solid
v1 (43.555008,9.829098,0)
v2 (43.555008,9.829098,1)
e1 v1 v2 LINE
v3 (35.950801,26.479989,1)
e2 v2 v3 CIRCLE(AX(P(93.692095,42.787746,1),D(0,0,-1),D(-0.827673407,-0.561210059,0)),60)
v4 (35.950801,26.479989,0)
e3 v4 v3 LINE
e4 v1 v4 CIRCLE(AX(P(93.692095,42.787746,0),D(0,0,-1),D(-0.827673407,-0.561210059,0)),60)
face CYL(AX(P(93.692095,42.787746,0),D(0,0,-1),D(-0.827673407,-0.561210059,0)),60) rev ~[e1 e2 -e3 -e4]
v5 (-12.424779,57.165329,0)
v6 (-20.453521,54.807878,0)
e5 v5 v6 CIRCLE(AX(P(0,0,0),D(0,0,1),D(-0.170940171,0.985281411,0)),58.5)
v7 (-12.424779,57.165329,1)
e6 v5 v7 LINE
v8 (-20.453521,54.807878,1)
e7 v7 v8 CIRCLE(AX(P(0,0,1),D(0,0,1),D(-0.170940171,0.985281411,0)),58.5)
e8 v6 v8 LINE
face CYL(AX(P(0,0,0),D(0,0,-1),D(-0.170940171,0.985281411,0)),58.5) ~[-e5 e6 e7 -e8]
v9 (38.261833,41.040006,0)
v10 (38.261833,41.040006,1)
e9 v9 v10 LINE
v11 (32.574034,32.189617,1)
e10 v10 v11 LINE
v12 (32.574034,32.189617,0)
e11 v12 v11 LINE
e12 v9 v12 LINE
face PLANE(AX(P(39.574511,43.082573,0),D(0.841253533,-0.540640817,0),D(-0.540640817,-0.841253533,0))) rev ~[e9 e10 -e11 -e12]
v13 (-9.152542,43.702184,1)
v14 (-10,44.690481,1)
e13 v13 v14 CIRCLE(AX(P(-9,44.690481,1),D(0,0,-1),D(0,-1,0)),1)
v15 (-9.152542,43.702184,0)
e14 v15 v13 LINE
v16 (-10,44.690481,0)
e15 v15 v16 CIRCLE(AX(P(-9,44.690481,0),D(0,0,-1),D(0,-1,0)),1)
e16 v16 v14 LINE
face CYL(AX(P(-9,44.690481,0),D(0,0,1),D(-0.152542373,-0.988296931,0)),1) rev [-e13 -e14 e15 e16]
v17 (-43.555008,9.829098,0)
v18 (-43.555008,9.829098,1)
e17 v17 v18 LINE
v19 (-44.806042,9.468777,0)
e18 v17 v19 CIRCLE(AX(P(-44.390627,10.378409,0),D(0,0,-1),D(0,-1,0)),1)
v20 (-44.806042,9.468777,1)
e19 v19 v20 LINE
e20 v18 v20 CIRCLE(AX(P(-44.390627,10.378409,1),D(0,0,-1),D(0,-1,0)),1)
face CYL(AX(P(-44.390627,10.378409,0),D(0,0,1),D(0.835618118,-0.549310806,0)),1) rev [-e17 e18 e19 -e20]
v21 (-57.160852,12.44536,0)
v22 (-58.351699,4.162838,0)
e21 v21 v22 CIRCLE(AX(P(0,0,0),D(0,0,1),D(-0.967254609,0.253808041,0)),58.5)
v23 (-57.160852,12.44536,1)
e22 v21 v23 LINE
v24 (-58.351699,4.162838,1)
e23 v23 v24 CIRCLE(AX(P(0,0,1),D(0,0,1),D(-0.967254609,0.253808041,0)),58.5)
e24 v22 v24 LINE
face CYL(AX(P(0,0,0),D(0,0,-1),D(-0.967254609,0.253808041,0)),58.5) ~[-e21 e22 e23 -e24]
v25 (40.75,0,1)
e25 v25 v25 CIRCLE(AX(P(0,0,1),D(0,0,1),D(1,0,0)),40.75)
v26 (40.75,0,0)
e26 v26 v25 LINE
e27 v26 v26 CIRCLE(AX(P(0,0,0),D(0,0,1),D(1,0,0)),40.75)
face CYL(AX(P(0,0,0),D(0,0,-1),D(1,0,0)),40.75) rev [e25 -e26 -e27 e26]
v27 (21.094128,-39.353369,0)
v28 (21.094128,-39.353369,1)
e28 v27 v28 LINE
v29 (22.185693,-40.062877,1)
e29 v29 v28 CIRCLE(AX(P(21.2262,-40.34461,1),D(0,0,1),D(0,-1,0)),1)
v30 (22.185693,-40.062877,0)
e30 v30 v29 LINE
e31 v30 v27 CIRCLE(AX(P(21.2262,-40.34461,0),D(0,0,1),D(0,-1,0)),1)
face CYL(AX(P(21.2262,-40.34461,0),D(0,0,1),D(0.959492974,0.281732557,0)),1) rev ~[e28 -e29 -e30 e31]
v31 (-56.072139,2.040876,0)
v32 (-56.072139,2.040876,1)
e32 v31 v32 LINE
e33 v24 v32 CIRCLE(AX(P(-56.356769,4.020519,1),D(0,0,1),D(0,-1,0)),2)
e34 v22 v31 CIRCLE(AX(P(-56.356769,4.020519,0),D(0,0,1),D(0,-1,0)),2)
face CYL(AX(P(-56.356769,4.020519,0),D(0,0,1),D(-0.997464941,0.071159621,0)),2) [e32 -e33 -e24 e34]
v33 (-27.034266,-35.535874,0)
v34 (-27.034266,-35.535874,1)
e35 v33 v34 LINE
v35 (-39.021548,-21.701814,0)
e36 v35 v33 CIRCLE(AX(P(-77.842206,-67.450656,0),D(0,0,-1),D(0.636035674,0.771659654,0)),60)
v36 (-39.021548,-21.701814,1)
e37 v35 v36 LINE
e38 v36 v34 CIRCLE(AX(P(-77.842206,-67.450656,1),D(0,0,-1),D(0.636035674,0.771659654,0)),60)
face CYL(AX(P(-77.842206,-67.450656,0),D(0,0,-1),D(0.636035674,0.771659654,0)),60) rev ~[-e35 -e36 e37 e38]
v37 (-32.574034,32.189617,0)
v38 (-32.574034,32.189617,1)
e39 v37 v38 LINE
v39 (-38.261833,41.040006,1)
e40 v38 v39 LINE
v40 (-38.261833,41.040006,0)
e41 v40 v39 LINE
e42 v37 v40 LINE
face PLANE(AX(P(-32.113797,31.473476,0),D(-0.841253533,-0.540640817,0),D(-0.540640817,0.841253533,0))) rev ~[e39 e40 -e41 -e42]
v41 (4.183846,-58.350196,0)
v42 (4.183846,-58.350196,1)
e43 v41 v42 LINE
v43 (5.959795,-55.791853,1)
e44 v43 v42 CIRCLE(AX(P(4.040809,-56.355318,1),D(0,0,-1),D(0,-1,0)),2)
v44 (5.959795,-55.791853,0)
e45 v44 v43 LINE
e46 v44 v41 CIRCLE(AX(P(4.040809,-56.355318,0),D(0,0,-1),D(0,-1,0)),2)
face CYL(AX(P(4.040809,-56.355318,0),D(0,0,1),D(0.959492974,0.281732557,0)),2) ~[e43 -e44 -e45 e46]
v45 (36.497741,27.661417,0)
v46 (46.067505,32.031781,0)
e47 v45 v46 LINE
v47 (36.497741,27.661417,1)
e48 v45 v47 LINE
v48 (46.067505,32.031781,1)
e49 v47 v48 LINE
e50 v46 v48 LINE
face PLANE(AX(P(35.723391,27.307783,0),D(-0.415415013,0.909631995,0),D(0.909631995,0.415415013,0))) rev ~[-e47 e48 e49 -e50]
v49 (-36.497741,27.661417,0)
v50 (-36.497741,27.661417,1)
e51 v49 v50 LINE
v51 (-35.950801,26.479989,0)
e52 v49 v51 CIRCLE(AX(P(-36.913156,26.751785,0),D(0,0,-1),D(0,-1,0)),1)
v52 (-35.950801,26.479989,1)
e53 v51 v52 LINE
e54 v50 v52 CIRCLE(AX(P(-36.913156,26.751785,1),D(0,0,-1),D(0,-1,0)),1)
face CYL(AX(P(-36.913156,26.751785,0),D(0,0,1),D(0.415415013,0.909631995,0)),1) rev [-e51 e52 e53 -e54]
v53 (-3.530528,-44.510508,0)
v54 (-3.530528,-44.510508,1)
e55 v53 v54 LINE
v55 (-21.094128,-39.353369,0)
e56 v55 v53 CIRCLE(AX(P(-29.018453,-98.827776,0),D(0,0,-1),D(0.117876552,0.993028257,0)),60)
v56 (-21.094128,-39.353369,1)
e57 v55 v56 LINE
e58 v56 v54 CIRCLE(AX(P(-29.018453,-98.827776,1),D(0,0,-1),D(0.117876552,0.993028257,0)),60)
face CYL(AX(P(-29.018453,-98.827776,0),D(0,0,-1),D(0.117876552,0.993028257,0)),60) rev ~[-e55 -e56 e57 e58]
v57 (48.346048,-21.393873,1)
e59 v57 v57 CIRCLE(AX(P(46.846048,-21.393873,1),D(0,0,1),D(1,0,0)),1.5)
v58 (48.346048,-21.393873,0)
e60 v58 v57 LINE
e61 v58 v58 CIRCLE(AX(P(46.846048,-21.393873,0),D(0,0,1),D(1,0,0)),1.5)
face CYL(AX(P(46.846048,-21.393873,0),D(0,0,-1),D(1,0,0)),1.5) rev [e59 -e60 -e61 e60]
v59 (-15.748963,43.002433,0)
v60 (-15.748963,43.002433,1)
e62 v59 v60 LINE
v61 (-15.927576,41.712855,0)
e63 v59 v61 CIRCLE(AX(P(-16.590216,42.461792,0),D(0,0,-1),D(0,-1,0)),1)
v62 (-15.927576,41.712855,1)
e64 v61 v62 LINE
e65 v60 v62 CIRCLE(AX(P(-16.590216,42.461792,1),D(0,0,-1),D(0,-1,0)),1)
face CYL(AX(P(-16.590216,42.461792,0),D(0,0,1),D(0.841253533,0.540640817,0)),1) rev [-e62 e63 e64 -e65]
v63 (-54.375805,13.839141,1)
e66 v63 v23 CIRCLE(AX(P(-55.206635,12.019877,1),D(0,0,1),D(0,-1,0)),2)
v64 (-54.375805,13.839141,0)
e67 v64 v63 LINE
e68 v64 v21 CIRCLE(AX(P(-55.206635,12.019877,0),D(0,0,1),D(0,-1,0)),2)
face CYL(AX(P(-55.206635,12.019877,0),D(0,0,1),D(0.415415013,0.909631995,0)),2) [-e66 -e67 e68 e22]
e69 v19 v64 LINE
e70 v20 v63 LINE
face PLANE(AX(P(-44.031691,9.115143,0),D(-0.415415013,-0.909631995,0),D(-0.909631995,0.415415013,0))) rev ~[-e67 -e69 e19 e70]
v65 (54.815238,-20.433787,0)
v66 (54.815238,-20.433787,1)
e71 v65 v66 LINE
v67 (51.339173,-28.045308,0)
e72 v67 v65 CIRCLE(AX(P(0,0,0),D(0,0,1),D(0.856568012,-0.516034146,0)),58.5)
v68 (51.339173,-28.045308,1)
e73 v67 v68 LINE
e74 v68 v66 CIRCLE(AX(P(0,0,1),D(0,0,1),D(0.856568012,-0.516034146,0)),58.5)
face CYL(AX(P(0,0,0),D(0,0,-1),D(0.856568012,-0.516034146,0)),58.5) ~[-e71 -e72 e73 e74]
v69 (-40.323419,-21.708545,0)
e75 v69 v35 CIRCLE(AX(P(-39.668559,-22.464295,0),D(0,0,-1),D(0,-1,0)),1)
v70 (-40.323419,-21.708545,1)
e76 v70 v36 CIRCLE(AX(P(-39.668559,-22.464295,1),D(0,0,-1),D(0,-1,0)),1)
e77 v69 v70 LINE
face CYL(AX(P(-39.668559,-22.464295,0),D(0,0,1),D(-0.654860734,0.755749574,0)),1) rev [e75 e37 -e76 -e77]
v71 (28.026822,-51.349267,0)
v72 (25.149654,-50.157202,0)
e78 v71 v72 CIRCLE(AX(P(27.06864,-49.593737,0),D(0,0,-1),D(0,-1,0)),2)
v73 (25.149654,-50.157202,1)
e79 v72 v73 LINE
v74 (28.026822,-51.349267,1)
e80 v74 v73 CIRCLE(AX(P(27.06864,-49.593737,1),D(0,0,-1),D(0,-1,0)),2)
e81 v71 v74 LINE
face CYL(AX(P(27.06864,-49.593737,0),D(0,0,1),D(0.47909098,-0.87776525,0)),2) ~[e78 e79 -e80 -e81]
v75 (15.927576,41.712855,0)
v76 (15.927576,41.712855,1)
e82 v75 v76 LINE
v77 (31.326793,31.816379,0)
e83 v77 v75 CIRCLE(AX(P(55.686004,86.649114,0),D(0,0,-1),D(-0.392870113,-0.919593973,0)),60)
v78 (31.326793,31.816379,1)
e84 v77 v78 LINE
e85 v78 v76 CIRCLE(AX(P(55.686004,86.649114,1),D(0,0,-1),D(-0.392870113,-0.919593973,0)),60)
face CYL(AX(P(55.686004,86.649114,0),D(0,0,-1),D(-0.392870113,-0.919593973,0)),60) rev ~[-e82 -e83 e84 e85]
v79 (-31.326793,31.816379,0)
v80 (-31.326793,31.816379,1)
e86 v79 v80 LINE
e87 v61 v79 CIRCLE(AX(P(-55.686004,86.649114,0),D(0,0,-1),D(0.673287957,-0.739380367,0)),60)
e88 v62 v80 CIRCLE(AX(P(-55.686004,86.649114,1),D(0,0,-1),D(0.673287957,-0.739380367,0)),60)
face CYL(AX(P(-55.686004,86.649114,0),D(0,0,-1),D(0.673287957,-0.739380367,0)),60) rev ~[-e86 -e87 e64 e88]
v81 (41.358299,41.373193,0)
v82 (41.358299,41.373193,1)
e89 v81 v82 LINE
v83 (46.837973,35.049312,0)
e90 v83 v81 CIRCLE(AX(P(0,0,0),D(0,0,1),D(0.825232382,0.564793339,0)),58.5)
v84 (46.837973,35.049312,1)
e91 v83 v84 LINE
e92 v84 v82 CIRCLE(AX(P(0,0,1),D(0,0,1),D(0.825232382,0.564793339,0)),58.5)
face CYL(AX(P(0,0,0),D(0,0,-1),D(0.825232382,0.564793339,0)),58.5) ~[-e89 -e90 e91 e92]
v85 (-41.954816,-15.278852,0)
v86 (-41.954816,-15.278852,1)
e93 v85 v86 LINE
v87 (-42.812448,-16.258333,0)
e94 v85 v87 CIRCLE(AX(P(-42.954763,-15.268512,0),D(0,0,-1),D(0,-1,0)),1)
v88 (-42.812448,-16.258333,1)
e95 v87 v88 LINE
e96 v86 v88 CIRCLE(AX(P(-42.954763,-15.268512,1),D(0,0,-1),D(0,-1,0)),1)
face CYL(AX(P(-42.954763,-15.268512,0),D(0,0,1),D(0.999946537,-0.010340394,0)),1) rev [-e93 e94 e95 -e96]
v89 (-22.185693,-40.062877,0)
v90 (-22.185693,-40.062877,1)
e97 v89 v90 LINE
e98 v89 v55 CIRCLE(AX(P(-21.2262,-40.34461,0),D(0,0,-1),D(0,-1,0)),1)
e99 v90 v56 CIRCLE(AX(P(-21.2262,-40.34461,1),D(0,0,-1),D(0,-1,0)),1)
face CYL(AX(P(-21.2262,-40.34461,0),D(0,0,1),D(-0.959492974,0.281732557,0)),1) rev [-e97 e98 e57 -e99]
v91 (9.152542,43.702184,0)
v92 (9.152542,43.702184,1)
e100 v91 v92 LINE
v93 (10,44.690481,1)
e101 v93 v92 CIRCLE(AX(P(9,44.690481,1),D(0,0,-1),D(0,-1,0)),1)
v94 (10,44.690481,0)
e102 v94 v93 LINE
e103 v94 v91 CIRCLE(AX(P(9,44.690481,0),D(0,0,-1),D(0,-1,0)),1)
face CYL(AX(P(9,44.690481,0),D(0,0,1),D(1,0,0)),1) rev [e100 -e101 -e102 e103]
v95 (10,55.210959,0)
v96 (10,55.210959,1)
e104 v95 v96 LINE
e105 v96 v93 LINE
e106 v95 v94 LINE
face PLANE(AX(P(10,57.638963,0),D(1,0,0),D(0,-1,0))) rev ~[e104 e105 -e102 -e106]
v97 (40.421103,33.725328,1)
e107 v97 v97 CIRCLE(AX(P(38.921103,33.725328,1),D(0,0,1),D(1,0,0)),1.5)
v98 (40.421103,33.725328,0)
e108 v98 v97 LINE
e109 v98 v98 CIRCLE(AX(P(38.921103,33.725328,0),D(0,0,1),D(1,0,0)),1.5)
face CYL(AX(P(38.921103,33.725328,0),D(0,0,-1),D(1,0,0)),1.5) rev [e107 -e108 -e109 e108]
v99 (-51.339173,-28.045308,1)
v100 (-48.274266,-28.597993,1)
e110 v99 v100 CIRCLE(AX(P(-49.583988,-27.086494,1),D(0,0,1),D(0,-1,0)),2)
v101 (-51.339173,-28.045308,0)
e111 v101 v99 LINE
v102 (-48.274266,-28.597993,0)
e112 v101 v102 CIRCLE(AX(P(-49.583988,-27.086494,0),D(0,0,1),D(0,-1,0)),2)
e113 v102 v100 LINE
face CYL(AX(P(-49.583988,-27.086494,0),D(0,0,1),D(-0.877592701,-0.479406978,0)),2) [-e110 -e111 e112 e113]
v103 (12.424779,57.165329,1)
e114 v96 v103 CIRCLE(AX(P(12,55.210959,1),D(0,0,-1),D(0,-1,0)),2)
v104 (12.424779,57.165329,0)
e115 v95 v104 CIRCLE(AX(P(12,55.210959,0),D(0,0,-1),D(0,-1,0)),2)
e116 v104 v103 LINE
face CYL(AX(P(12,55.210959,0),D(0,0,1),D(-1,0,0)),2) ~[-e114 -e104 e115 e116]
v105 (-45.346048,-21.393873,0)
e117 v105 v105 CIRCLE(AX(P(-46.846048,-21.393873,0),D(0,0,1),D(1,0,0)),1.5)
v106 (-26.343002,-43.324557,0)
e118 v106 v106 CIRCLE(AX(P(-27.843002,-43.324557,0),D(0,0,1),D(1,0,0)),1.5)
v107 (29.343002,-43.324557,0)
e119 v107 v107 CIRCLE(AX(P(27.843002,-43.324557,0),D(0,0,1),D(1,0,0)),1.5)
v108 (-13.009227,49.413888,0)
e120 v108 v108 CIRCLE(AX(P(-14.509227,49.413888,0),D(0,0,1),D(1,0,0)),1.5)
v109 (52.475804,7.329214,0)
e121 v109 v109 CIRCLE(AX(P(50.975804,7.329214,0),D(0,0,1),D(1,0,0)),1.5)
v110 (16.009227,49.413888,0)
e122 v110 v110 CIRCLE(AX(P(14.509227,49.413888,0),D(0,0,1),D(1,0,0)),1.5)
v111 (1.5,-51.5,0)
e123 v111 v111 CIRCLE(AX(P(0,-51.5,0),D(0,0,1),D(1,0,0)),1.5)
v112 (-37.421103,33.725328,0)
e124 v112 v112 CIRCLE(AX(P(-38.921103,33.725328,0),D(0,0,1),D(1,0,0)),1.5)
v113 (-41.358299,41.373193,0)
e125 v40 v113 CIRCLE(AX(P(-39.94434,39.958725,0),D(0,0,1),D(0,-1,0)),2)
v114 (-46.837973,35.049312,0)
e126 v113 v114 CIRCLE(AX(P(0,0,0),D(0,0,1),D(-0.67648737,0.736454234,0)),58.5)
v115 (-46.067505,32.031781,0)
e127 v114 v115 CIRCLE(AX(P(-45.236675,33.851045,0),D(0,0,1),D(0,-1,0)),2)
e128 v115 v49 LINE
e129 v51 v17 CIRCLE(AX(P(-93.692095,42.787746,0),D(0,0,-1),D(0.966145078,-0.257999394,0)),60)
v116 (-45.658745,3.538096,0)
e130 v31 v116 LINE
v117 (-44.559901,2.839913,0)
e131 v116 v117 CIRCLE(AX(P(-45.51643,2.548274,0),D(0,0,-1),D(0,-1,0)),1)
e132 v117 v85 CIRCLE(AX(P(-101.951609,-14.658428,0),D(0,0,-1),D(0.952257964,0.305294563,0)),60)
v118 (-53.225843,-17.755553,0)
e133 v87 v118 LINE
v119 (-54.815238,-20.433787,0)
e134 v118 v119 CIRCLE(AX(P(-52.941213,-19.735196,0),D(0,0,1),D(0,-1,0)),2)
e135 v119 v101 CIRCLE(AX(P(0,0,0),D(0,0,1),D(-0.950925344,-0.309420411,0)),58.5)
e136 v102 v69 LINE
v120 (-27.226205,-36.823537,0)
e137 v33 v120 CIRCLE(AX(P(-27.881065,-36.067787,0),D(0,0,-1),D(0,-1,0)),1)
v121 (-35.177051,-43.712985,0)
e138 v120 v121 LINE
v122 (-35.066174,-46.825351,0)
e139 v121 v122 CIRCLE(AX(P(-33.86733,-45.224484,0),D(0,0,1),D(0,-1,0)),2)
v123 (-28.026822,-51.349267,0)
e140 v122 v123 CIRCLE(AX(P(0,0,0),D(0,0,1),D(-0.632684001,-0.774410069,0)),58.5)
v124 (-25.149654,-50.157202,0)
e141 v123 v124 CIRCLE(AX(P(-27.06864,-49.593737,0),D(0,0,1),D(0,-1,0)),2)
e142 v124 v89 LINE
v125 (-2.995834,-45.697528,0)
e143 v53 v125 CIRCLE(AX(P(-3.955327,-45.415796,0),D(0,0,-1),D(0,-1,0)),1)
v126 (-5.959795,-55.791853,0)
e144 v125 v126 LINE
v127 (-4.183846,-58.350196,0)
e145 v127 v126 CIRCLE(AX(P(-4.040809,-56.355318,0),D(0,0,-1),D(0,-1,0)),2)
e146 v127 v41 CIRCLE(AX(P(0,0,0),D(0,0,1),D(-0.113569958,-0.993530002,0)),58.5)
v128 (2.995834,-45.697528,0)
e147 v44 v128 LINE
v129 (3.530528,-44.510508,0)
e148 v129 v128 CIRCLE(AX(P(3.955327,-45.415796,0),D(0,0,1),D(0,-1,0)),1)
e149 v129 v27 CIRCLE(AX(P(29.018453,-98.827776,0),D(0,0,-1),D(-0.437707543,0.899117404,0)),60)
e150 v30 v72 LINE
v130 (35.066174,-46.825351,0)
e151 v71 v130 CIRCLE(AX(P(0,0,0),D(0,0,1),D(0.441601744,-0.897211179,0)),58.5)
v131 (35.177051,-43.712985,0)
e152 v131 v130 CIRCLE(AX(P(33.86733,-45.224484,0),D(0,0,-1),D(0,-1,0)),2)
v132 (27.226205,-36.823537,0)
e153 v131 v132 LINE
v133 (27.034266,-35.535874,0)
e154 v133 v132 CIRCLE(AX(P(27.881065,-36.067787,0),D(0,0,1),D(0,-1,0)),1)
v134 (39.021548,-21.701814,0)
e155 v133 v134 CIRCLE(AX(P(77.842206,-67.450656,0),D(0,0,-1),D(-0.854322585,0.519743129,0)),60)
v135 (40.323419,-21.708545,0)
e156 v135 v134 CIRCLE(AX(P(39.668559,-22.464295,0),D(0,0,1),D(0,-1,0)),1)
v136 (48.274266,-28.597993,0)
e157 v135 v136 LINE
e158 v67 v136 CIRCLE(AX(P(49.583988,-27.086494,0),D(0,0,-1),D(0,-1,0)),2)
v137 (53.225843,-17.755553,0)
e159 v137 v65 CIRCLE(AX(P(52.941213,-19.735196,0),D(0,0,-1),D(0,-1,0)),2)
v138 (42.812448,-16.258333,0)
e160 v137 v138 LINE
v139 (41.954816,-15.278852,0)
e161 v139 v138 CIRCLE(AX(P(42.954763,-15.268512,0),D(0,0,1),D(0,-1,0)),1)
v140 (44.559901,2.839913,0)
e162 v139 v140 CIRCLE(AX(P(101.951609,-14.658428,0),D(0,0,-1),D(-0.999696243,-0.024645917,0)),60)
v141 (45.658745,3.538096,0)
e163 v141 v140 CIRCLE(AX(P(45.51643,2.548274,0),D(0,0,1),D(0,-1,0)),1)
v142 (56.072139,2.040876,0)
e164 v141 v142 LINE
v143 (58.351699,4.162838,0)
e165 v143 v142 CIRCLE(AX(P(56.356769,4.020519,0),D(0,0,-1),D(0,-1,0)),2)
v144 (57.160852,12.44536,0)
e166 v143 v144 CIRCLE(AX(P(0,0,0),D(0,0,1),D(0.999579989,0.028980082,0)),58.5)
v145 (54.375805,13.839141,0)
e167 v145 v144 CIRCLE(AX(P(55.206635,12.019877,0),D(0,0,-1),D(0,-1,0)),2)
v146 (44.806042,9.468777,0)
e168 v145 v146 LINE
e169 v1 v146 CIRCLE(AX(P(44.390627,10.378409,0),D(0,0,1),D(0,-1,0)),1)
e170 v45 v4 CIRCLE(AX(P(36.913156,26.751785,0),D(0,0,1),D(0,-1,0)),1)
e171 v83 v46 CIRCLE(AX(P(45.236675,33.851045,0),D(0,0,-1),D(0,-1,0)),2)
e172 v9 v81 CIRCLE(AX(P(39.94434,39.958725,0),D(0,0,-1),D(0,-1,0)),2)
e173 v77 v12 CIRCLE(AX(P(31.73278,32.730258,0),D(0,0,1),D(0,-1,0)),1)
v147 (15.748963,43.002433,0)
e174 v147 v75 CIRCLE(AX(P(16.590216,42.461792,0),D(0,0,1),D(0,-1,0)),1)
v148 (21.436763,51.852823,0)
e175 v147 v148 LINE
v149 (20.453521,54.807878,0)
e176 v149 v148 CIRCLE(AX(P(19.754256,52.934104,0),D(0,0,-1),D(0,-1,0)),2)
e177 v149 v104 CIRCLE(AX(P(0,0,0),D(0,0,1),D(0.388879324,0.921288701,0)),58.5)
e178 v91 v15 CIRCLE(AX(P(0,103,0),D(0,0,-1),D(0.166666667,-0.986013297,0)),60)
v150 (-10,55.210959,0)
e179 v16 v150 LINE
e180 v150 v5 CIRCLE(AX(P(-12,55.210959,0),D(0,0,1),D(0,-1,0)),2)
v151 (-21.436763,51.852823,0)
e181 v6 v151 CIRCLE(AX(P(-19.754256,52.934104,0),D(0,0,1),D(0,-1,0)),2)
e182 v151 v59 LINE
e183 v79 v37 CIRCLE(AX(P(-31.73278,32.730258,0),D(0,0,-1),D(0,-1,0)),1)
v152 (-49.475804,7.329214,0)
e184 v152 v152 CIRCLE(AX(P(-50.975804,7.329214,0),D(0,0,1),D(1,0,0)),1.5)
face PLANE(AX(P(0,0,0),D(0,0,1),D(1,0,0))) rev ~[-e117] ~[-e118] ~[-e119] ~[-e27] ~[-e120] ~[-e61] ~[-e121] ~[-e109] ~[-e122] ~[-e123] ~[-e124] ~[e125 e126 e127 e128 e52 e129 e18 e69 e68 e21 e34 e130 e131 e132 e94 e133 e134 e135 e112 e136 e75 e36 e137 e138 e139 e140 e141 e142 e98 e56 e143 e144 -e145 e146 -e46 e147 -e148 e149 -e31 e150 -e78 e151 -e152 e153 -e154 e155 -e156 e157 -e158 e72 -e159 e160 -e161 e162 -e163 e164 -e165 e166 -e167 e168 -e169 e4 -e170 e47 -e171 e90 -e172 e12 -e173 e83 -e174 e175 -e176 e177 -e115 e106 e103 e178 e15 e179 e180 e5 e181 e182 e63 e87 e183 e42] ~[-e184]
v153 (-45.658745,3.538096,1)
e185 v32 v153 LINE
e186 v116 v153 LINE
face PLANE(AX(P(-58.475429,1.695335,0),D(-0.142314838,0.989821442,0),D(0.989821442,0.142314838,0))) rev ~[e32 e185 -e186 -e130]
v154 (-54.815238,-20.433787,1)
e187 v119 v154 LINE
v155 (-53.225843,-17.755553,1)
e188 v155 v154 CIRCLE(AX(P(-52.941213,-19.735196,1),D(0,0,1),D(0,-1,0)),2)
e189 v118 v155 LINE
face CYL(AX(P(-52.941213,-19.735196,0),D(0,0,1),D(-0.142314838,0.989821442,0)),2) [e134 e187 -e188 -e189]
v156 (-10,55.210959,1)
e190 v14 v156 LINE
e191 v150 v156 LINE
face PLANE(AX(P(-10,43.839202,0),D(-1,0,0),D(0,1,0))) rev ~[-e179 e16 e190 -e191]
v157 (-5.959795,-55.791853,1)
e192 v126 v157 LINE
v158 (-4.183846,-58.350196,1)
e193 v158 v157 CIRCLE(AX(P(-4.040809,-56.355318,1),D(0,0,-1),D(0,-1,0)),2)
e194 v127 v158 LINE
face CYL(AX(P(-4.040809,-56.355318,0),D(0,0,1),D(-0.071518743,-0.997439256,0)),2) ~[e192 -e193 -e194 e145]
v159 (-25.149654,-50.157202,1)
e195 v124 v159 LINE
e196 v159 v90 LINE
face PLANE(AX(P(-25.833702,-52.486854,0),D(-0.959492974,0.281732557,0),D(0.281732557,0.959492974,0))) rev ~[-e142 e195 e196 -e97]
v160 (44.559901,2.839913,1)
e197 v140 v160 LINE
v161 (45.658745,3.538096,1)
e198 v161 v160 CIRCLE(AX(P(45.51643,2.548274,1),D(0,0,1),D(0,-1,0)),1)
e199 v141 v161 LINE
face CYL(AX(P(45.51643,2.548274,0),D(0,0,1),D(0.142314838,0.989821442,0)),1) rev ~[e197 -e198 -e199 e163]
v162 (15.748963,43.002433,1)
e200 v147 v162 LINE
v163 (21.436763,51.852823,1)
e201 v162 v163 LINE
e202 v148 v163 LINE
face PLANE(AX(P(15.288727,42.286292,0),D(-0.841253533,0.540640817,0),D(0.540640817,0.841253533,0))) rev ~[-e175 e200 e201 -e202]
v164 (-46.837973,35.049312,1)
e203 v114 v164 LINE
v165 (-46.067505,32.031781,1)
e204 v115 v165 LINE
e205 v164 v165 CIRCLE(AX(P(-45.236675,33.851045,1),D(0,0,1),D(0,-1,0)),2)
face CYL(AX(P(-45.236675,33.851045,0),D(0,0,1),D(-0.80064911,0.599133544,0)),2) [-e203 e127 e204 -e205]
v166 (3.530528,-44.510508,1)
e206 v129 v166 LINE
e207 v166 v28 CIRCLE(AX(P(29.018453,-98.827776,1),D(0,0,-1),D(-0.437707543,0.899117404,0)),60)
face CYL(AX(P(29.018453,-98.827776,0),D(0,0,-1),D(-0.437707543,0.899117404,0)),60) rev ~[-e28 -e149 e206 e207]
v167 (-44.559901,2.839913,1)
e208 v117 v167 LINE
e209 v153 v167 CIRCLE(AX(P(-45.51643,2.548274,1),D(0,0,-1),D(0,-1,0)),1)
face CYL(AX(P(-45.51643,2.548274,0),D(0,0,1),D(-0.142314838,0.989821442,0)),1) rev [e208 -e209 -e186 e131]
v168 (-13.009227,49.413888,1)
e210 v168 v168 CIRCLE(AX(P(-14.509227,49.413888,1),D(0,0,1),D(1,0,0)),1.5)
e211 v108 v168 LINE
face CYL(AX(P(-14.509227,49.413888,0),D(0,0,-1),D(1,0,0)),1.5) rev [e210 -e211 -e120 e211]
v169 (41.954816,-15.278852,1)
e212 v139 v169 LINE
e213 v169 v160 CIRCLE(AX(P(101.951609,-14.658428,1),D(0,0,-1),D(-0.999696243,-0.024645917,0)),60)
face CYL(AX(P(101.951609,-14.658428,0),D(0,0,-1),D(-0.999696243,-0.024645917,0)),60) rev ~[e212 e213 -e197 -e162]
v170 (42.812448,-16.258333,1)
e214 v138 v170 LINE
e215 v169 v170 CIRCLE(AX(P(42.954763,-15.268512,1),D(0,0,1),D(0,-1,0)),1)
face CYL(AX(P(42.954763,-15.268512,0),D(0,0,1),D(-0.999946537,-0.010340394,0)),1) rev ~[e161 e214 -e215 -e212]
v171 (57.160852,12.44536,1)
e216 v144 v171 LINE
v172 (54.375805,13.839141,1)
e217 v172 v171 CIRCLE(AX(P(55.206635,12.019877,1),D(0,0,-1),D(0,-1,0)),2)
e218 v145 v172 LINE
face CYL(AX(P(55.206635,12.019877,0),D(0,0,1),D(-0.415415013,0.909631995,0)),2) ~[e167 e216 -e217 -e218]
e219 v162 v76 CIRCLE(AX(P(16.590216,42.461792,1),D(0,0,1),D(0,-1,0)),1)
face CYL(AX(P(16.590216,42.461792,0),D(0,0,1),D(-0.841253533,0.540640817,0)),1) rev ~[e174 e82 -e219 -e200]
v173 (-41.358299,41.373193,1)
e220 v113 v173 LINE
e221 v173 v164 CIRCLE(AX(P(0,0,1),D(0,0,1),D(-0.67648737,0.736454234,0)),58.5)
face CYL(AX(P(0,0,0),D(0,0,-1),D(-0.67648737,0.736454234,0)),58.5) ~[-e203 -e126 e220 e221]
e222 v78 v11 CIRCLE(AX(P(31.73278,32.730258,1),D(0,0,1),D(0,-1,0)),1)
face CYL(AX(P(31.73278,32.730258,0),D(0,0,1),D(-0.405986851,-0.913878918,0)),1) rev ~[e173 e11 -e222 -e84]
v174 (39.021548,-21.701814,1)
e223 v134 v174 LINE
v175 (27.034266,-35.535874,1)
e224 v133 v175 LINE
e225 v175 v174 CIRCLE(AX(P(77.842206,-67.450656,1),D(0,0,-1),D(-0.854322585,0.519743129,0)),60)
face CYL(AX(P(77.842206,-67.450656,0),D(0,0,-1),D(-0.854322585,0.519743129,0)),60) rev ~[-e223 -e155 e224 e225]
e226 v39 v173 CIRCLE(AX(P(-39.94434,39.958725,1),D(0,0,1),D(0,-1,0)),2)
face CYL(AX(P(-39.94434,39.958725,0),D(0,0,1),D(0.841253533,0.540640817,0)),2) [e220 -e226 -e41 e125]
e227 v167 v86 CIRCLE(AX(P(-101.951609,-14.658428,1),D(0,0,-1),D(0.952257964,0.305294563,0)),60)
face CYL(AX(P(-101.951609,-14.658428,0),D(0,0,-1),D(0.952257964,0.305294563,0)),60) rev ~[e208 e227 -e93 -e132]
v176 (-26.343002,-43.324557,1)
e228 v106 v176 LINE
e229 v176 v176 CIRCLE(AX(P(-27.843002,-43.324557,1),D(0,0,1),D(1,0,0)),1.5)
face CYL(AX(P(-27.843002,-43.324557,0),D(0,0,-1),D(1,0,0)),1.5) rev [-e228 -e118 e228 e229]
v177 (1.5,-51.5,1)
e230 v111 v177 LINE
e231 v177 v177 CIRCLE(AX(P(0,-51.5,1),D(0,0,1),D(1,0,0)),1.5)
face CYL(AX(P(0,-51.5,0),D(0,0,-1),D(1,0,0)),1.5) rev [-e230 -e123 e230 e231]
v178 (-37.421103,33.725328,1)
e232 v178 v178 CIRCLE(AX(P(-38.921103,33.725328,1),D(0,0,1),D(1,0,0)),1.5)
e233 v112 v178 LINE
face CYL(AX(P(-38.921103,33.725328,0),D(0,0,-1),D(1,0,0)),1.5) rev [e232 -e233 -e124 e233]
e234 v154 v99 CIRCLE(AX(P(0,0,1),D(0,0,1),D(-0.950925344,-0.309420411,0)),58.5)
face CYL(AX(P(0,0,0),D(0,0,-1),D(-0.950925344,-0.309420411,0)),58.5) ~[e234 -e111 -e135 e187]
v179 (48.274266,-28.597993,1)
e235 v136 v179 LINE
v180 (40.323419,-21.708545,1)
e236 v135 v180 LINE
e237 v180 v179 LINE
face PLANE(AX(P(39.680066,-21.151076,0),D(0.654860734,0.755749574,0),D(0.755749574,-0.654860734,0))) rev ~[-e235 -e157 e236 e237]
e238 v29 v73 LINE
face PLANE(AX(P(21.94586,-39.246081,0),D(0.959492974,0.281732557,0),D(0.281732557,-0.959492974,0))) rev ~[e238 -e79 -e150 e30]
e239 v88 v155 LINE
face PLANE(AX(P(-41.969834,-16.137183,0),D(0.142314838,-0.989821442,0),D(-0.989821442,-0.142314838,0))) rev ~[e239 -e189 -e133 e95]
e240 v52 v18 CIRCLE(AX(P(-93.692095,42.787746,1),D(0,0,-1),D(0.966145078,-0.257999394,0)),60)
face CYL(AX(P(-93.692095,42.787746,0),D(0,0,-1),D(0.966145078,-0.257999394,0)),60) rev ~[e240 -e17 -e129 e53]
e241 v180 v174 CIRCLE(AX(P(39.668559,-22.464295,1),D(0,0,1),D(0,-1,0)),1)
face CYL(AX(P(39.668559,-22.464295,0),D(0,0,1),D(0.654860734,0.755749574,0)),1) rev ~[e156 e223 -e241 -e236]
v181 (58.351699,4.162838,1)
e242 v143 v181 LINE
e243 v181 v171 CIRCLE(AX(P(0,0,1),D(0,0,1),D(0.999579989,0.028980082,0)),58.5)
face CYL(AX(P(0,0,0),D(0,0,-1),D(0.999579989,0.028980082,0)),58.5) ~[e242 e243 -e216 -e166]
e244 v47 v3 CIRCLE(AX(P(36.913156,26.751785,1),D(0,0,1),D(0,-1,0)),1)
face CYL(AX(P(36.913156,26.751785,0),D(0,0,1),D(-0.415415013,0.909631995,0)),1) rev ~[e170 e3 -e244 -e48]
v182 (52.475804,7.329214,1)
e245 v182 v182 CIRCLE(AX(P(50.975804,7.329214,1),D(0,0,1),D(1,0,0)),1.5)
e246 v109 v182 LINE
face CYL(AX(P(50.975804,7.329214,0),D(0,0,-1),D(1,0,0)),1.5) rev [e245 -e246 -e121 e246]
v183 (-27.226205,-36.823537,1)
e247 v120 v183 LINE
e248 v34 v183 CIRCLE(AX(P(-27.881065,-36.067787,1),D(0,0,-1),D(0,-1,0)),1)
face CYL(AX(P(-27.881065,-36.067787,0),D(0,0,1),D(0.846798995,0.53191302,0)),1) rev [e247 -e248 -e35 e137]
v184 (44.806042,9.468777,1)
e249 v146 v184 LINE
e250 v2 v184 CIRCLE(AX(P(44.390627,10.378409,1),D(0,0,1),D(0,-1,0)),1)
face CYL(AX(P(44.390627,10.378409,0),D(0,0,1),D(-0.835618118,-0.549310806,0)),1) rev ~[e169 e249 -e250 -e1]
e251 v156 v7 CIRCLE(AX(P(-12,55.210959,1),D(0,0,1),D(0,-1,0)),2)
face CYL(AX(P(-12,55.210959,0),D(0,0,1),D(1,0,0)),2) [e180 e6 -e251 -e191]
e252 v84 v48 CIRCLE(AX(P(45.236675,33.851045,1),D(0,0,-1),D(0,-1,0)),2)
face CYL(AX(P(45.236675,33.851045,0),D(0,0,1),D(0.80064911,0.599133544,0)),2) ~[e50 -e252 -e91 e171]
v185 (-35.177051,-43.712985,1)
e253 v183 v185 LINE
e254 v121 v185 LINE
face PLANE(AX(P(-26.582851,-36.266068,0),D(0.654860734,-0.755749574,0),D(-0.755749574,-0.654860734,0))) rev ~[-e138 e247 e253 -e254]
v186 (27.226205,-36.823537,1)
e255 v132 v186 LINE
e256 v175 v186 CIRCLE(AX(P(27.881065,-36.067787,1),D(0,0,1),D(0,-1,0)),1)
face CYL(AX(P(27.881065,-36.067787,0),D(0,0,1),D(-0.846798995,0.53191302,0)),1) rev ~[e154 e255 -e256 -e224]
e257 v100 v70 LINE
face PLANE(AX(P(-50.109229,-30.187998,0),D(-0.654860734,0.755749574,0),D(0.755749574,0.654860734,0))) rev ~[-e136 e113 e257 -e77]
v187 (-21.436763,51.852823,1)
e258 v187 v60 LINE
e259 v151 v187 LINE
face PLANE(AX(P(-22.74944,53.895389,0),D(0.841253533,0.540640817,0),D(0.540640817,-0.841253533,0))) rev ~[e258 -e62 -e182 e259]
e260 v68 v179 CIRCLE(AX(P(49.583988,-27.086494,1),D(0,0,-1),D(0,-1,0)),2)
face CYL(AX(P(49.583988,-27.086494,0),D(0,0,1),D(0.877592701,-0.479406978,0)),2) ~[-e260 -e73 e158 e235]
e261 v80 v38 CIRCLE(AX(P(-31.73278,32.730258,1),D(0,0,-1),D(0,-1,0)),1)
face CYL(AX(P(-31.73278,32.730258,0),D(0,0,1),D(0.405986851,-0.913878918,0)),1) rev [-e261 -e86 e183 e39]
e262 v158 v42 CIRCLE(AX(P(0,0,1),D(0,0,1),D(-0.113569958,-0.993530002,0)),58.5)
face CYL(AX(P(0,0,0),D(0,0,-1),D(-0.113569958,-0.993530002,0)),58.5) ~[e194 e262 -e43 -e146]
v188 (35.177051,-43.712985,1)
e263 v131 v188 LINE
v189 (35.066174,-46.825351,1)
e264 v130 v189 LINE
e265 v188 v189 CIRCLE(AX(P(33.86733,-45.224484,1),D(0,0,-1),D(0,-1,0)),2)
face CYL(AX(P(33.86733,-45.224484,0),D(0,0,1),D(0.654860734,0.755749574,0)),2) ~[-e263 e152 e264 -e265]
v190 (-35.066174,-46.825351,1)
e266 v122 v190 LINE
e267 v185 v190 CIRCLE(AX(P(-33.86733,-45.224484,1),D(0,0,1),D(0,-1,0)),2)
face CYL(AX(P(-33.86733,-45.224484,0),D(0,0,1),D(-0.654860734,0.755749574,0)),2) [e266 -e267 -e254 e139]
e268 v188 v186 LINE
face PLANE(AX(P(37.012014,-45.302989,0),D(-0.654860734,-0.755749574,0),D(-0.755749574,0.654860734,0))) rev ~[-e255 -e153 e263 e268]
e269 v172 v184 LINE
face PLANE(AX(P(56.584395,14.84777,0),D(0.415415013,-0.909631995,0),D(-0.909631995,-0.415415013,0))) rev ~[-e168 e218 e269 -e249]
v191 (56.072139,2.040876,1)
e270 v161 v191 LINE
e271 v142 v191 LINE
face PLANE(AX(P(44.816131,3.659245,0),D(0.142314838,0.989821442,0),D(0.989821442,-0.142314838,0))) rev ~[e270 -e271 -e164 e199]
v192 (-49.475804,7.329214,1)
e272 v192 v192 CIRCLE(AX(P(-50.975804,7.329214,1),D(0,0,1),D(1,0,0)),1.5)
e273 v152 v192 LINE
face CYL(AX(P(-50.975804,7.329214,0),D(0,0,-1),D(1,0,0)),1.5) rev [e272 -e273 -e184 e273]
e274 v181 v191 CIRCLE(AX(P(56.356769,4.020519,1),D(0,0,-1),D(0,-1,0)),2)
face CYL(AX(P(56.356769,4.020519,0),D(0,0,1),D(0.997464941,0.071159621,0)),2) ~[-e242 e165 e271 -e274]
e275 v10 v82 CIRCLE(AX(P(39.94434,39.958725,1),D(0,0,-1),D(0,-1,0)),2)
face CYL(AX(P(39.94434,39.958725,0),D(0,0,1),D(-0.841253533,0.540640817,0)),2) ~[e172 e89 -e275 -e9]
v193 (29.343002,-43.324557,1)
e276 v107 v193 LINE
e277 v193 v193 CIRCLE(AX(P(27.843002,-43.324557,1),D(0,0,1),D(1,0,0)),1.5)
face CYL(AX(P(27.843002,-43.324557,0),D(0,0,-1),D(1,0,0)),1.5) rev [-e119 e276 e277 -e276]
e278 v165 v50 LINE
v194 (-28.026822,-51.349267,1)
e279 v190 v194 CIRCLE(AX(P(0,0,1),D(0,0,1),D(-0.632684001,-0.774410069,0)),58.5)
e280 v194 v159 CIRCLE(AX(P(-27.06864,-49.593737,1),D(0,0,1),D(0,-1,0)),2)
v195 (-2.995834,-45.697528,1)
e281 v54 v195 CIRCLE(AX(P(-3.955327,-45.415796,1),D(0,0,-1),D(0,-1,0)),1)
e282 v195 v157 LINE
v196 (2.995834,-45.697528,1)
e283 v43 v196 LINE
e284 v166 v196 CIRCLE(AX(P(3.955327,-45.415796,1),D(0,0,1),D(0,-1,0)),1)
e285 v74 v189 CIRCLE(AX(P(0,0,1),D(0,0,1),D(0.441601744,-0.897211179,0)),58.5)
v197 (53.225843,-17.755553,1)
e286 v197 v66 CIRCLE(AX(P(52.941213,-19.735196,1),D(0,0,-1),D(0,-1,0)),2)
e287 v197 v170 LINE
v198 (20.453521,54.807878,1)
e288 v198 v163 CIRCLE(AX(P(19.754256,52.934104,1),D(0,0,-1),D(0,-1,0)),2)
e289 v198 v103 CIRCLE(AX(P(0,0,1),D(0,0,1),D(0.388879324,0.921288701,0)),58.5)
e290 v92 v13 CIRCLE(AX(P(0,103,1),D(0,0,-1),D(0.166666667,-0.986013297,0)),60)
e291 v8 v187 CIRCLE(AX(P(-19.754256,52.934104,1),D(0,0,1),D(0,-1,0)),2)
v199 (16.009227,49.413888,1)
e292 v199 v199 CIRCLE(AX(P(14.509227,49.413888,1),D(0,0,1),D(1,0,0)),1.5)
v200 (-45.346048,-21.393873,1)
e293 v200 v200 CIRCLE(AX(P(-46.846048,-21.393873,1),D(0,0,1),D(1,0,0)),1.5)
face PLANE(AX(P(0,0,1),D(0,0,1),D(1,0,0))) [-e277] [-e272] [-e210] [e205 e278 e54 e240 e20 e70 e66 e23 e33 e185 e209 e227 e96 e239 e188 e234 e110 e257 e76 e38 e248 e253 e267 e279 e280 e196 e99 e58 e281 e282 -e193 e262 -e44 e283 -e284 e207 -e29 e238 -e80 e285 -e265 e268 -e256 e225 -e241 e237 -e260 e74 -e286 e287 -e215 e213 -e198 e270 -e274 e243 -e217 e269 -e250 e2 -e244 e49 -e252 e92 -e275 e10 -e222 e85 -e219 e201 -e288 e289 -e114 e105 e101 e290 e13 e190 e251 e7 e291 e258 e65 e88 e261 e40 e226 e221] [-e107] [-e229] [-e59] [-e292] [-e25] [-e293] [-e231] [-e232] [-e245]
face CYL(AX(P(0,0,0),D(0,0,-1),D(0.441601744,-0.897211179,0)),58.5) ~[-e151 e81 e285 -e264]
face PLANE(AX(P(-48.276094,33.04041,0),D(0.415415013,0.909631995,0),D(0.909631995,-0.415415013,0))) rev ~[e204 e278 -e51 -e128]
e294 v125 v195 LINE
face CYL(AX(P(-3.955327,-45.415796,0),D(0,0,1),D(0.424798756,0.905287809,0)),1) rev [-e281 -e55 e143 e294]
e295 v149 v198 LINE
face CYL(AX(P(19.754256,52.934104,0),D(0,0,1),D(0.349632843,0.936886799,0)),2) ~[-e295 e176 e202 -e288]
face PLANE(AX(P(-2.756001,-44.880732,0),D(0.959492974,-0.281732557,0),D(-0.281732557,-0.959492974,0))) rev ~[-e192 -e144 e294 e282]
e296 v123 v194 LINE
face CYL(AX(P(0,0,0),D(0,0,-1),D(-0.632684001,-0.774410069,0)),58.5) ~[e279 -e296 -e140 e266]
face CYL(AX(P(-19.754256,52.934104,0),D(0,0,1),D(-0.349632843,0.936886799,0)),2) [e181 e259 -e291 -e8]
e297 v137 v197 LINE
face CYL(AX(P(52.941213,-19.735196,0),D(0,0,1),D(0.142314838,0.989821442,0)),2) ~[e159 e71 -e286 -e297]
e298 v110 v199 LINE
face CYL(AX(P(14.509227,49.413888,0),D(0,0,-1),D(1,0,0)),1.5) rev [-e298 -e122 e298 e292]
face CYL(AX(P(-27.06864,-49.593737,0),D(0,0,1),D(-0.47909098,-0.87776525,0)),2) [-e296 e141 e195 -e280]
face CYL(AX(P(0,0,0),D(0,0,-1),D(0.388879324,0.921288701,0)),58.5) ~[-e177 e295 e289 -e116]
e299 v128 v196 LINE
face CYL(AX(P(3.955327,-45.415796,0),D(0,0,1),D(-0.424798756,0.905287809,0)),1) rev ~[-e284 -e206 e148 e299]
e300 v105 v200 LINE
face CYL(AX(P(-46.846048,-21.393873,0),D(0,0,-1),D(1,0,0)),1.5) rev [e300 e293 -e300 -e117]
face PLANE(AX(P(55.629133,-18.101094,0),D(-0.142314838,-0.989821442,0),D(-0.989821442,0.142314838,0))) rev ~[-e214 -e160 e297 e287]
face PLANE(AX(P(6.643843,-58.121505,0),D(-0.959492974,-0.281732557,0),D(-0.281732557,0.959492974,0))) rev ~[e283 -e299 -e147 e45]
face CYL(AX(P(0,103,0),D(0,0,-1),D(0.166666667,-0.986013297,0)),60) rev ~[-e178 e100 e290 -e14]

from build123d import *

# Parameters (mm, degrees)
SKETCH_2_R      = 40.75
SKETCH_2_R_2    = 1.5
EXTRUDE_1_DEPTH = 1
FILLET_1_R      = 1
FILLET_2_R      = 2


with BuildPart() as part:
    # 草图2 → 凸台-拉伸1 (new body)
    with BuildSketch(Plane.XY):
        with BuildLine():
            Line((10, 57.638962517), (10, 43.839202169))
            ThreePointArc((10, 43.839202169), (0, 43), (-10, 43.839202169))
            Line((-10, 43.839202169), (-10, 57.638962517))
            ThreePointArc((-10, 57.638962517), (-16.481354575, 56.130338956), (-22.749440484, 53.89538902))
            Line((-22.749440484, 53.89538902), (-15.288726769, 42.286291876))
            ThreePointArc((-15.288726769, 42.286291876), (-23.247555151, 36.173901912), (-32.113797426, 31.473475527))
            Line((-32.113797426, 31.473475527), (-39.574511141, 43.082572671))
            ThreePointArc((-39.574511141, 43.082572671), (-44.2113501, 38.309352936), (-48.276094354, 33.040410317))
            Line((-48.276094354, 33.040410317), (-35.723390814, 27.307782693))
            ThreePointArc((-35.723390814, 27.307782693), (-39.1141758, 17.862845559), (-44.031691074, 9.115142785))
            Line((-44.031691074, 9.115142785), (-56.584394614, 14.84777041))
            ThreePointArc((-56.584394614, 14.84777041), (-57.90455435, 8.325418039), (-58.47542937, 1.69533479))
            Line((-58.47542937, 1.69533479), (-44.816130685, 3.659245452))
            ThreePointArc((-44.816130685, 3.659245452), (-42.562322001, -6.119538046), (-41.969833919, -16.137183386))
            Line((-41.969833919, -16.137183386), (-55.629132604, -18.101094048))
            ThreePointArc((-55.629132604, -18.101094048), (-53.213471728, -24.301778261), (-50.109228728, -30.187997554))
            Line((-50.109228728, -30.187997554), (-39.680065719, -21.151076364))
            ThreePointArc((-39.680065719, -21.151076364), (-32.497231697, -28.15901156), (-26.58285104, -36.266067852))
            Line((-26.58285104, -36.266067852), (-37.012014049, -45.302989041))
            ThreePointArc((-37.012014049, -45.302989041), (-31.627487821, -49.213331671), (-25.83370202, -52.486853973))
            Line((-25.83370202, -52.486853973), (-21.945860253, -39.246080882))
            ThreePointArc((-21.945860253, -39.246080882), (-12.114499944, -41.258197865), (-2.756000781, -44.880732018))
            Line((-2.756000781, -44.880732018), (-6.643842547, -58.12150511))
            ThreePointArc((-6.643842547, -58.12150511), (0, -58.5), (6.643842547, -58.12150511))
            Line((6.643842547, -58.12150511), (2.756000781, -44.880732018))
            ThreePointArc((2.756000781, -44.880732018), (12.114499944, -41.258197865), (21.945860253, -39.246080882))
            Line((21.945860253, -39.246080882), (25.83370202, -52.486853973))
            ThreePointArc((25.83370202, -52.486853973), (31.627487821, -49.213331671), (37.012014049, -45.302989041))
            Line((37.012014049, -45.302989041), (26.58285104, -36.266067852))
            ThreePointArc((26.58285104, -36.266067852), (32.497231697, -28.15901156), (39.680065719, -21.151076364))
            Line((39.680065719, -21.151076364), (50.109228728, -30.187997554))
            ThreePointArc((50.109228728, -30.187997554), (53.213471728, -24.301778261), (55.629132604, -18.101094048))
            Line((55.629132604, -18.101094048), (41.969833919, -16.137183386))
            ThreePointArc((41.969833919, -16.137183386), (42.562322001, -6.119538046), (44.816130685, 3.659245452))
            Line((44.816130685, 3.659245452), (58.47542937, 1.69533479))
            ThreePointArc((58.47542937, 1.69533479), (57.90455435, 8.325418039), (56.584394614, 14.84777041))
            Line((56.584394614, 14.84777041), (44.031691074, 9.115142785))
            ThreePointArc((44.031691074, 9.115142785), (39.1141758, 17.862845559), (35.723390814, 27.307782693))
            Line((35.723390814, 27.307782693), (48.276094354, 33.040410317))
            ThreePointArc((48.276094354, 33.040410317), (44.2113501, 38.309352936), (39.574511141, 43.082572671))
            Line((39.574511141, 43.082572671), (32.113797426, 31.473475527))
            ThreePointArc((32.113797426, 31.473475527), (23.247555151, 36.173901912), (15.288726769, 42.286291876))
            Line((15.288726769, 42.286291876), (22.749440484, 53.89538902))
            ThreePointArc((22.749440484, 53.89538902), (16.481354575, 56.130338956), (10, 57.638962517))
        make_face()
        Circle(SKETCH_2_R, mode=Mode.SUBTRACT)
        with Locations((0, -51.5)):
            Circle(SKETCH_2_R_2, mode=Mode.SUBTRACT)
        with Locations((-27.843002099, -43.324556941)):
            Circle(SKETCH_2_R_2, mode=Mode.SUBTRACT)
        with Locations((-46.846047761, -21.39387317)):
            Circle(SKETCH_2_R_2, mode=Mode.SUBTRACT)
        with Locations((-50.975804257, 7.329214171)):
            Circle(SKETCH_2_R_2, mode=Mode.SUBTRACT)
        with Locations((-38.921103079, 33.725327798)):
            Circle(SKETCH_2_R_2, mode=Mode.SUBTRACT)
        with Locations((-14.509226677, 49.413888141)):
            Circle(SKETCH_2_R_2, mode=Mode.SUBTRACT)
        with Locations((14.509226677, 49.413888141)):
            Circle(SKETCH_2_R_2, mode=Mode.SUBTRACT)
        with Locations((38.921103079, 33.725327798)):
            Circle(SKETCH_2_R_2, mode=Mode.SUBTRACT)
        with Locations((50.975804257, 7.329214171)):
            Circle(SKETCH_2_R_2, mode=Mode.SUBTRACT)
        with Locations((46.846047761, -21.39387317)):
            Circle(SKETCH_2_R_2, mode=Mode.SUBTRACT)
        with Locations((27.843002099, -43.324556941)):
            Circle(SKETCH_2_R_2, mode=Mode.SUBTRACT)
    extrude(amount=EXTRUDE_1_DEPTH)

    # 圆角1
    fillet_1_edges = [part.edges().sort_by_distance(p)[0] for p in [
        (15.288726769, 42.286291876, 0.5),
        (32.113797426, 31.473475527, 0.5),
        (35.723390814, 27.307782693, 0.5),
        (44.031691074, 9.115142785, 0.5),
        (44.816130685, 3.659245452, 0.5),
        (41.969833919, -16.137183386, 0.5),
        (39.680065719, -21.151076364, 0.5),
        (26.58285104, -36.266067852, 0.5),
        (21.945860253, -39.246080882, 0.5),
        (2.756000781, -44.880732018, 0.5),
        (-2.756000781, -44.880732018, 0.5),
        (-21.945860253, -39.246080882, 0.5),
        (-26.58285104, -36.266067852, 0.5),
        (-39.680065719, -21.151076364, 0.5),
        (-41.969833919, -16.137183386, 0.5),
        (-44.816130685, 3.659245452, 0.5),
        (-44.031691074, 9.115142785, 0.5),
        (-35.723390814, 27.307782693, 0.5),
        (-32.113797426, 31.473475527, 0.5),
        (-15.288726769, 42.286291876, 0.5),
        (-10, 43.839202169, 0.5),
        (10, 43.839202169, 0.5),
    ]]
    fillet(fillet_1_edges, radius=FILLET_1_R)

    # 圆角2
    fillet_2_edges = [part.edges().sort_by_distance(p)[0] for p in [
        (22.749440484, 53.89538902, 0.5),
        (39.574511141, 43.082572671, 0.5),
        (48.276094354, 33.040410317, 0.5),
        (56.584394614, 14.84777041, 0.5),
        (58.47542937, 1.69533479, 0.5),
        (55.629132604, -18.101094048, 0.5),
        (50.109228728, -30.187997554, 0.5),
        (37.012014049, -45.302989041, 0.5),
        (25.83370202, -52.486853973, 0.5),
        (6.643842547, -58.12150511, 0.5),
        (-6.643842547, -58.12150511, 0.5),
        (-25.83370202, -52.486853973, 0.5),
        (-37.012014049, -45.302989041, 0.5),
        (-50.109228728, -30.187997554, 0.5),
        (-55.629132604, -18.101094048, 0.5),
        (-58.47542937, 1.69533479, 0.5),
        (-56.584394614, 14.84777041, 0.5),
        (-48.276094354, 33.040410317, 0.5),
        (-39.574511141, 43.082572671, 0.5),
        (-22.749440484, 53.89538902, 0.5),
        (-10, 57.638962517, 0.5),
        (10, 57.638962517, 0.5),
    ]]
    fillet(fillet_2_edges, radius=FILLET_2_R)


solid = part.part
